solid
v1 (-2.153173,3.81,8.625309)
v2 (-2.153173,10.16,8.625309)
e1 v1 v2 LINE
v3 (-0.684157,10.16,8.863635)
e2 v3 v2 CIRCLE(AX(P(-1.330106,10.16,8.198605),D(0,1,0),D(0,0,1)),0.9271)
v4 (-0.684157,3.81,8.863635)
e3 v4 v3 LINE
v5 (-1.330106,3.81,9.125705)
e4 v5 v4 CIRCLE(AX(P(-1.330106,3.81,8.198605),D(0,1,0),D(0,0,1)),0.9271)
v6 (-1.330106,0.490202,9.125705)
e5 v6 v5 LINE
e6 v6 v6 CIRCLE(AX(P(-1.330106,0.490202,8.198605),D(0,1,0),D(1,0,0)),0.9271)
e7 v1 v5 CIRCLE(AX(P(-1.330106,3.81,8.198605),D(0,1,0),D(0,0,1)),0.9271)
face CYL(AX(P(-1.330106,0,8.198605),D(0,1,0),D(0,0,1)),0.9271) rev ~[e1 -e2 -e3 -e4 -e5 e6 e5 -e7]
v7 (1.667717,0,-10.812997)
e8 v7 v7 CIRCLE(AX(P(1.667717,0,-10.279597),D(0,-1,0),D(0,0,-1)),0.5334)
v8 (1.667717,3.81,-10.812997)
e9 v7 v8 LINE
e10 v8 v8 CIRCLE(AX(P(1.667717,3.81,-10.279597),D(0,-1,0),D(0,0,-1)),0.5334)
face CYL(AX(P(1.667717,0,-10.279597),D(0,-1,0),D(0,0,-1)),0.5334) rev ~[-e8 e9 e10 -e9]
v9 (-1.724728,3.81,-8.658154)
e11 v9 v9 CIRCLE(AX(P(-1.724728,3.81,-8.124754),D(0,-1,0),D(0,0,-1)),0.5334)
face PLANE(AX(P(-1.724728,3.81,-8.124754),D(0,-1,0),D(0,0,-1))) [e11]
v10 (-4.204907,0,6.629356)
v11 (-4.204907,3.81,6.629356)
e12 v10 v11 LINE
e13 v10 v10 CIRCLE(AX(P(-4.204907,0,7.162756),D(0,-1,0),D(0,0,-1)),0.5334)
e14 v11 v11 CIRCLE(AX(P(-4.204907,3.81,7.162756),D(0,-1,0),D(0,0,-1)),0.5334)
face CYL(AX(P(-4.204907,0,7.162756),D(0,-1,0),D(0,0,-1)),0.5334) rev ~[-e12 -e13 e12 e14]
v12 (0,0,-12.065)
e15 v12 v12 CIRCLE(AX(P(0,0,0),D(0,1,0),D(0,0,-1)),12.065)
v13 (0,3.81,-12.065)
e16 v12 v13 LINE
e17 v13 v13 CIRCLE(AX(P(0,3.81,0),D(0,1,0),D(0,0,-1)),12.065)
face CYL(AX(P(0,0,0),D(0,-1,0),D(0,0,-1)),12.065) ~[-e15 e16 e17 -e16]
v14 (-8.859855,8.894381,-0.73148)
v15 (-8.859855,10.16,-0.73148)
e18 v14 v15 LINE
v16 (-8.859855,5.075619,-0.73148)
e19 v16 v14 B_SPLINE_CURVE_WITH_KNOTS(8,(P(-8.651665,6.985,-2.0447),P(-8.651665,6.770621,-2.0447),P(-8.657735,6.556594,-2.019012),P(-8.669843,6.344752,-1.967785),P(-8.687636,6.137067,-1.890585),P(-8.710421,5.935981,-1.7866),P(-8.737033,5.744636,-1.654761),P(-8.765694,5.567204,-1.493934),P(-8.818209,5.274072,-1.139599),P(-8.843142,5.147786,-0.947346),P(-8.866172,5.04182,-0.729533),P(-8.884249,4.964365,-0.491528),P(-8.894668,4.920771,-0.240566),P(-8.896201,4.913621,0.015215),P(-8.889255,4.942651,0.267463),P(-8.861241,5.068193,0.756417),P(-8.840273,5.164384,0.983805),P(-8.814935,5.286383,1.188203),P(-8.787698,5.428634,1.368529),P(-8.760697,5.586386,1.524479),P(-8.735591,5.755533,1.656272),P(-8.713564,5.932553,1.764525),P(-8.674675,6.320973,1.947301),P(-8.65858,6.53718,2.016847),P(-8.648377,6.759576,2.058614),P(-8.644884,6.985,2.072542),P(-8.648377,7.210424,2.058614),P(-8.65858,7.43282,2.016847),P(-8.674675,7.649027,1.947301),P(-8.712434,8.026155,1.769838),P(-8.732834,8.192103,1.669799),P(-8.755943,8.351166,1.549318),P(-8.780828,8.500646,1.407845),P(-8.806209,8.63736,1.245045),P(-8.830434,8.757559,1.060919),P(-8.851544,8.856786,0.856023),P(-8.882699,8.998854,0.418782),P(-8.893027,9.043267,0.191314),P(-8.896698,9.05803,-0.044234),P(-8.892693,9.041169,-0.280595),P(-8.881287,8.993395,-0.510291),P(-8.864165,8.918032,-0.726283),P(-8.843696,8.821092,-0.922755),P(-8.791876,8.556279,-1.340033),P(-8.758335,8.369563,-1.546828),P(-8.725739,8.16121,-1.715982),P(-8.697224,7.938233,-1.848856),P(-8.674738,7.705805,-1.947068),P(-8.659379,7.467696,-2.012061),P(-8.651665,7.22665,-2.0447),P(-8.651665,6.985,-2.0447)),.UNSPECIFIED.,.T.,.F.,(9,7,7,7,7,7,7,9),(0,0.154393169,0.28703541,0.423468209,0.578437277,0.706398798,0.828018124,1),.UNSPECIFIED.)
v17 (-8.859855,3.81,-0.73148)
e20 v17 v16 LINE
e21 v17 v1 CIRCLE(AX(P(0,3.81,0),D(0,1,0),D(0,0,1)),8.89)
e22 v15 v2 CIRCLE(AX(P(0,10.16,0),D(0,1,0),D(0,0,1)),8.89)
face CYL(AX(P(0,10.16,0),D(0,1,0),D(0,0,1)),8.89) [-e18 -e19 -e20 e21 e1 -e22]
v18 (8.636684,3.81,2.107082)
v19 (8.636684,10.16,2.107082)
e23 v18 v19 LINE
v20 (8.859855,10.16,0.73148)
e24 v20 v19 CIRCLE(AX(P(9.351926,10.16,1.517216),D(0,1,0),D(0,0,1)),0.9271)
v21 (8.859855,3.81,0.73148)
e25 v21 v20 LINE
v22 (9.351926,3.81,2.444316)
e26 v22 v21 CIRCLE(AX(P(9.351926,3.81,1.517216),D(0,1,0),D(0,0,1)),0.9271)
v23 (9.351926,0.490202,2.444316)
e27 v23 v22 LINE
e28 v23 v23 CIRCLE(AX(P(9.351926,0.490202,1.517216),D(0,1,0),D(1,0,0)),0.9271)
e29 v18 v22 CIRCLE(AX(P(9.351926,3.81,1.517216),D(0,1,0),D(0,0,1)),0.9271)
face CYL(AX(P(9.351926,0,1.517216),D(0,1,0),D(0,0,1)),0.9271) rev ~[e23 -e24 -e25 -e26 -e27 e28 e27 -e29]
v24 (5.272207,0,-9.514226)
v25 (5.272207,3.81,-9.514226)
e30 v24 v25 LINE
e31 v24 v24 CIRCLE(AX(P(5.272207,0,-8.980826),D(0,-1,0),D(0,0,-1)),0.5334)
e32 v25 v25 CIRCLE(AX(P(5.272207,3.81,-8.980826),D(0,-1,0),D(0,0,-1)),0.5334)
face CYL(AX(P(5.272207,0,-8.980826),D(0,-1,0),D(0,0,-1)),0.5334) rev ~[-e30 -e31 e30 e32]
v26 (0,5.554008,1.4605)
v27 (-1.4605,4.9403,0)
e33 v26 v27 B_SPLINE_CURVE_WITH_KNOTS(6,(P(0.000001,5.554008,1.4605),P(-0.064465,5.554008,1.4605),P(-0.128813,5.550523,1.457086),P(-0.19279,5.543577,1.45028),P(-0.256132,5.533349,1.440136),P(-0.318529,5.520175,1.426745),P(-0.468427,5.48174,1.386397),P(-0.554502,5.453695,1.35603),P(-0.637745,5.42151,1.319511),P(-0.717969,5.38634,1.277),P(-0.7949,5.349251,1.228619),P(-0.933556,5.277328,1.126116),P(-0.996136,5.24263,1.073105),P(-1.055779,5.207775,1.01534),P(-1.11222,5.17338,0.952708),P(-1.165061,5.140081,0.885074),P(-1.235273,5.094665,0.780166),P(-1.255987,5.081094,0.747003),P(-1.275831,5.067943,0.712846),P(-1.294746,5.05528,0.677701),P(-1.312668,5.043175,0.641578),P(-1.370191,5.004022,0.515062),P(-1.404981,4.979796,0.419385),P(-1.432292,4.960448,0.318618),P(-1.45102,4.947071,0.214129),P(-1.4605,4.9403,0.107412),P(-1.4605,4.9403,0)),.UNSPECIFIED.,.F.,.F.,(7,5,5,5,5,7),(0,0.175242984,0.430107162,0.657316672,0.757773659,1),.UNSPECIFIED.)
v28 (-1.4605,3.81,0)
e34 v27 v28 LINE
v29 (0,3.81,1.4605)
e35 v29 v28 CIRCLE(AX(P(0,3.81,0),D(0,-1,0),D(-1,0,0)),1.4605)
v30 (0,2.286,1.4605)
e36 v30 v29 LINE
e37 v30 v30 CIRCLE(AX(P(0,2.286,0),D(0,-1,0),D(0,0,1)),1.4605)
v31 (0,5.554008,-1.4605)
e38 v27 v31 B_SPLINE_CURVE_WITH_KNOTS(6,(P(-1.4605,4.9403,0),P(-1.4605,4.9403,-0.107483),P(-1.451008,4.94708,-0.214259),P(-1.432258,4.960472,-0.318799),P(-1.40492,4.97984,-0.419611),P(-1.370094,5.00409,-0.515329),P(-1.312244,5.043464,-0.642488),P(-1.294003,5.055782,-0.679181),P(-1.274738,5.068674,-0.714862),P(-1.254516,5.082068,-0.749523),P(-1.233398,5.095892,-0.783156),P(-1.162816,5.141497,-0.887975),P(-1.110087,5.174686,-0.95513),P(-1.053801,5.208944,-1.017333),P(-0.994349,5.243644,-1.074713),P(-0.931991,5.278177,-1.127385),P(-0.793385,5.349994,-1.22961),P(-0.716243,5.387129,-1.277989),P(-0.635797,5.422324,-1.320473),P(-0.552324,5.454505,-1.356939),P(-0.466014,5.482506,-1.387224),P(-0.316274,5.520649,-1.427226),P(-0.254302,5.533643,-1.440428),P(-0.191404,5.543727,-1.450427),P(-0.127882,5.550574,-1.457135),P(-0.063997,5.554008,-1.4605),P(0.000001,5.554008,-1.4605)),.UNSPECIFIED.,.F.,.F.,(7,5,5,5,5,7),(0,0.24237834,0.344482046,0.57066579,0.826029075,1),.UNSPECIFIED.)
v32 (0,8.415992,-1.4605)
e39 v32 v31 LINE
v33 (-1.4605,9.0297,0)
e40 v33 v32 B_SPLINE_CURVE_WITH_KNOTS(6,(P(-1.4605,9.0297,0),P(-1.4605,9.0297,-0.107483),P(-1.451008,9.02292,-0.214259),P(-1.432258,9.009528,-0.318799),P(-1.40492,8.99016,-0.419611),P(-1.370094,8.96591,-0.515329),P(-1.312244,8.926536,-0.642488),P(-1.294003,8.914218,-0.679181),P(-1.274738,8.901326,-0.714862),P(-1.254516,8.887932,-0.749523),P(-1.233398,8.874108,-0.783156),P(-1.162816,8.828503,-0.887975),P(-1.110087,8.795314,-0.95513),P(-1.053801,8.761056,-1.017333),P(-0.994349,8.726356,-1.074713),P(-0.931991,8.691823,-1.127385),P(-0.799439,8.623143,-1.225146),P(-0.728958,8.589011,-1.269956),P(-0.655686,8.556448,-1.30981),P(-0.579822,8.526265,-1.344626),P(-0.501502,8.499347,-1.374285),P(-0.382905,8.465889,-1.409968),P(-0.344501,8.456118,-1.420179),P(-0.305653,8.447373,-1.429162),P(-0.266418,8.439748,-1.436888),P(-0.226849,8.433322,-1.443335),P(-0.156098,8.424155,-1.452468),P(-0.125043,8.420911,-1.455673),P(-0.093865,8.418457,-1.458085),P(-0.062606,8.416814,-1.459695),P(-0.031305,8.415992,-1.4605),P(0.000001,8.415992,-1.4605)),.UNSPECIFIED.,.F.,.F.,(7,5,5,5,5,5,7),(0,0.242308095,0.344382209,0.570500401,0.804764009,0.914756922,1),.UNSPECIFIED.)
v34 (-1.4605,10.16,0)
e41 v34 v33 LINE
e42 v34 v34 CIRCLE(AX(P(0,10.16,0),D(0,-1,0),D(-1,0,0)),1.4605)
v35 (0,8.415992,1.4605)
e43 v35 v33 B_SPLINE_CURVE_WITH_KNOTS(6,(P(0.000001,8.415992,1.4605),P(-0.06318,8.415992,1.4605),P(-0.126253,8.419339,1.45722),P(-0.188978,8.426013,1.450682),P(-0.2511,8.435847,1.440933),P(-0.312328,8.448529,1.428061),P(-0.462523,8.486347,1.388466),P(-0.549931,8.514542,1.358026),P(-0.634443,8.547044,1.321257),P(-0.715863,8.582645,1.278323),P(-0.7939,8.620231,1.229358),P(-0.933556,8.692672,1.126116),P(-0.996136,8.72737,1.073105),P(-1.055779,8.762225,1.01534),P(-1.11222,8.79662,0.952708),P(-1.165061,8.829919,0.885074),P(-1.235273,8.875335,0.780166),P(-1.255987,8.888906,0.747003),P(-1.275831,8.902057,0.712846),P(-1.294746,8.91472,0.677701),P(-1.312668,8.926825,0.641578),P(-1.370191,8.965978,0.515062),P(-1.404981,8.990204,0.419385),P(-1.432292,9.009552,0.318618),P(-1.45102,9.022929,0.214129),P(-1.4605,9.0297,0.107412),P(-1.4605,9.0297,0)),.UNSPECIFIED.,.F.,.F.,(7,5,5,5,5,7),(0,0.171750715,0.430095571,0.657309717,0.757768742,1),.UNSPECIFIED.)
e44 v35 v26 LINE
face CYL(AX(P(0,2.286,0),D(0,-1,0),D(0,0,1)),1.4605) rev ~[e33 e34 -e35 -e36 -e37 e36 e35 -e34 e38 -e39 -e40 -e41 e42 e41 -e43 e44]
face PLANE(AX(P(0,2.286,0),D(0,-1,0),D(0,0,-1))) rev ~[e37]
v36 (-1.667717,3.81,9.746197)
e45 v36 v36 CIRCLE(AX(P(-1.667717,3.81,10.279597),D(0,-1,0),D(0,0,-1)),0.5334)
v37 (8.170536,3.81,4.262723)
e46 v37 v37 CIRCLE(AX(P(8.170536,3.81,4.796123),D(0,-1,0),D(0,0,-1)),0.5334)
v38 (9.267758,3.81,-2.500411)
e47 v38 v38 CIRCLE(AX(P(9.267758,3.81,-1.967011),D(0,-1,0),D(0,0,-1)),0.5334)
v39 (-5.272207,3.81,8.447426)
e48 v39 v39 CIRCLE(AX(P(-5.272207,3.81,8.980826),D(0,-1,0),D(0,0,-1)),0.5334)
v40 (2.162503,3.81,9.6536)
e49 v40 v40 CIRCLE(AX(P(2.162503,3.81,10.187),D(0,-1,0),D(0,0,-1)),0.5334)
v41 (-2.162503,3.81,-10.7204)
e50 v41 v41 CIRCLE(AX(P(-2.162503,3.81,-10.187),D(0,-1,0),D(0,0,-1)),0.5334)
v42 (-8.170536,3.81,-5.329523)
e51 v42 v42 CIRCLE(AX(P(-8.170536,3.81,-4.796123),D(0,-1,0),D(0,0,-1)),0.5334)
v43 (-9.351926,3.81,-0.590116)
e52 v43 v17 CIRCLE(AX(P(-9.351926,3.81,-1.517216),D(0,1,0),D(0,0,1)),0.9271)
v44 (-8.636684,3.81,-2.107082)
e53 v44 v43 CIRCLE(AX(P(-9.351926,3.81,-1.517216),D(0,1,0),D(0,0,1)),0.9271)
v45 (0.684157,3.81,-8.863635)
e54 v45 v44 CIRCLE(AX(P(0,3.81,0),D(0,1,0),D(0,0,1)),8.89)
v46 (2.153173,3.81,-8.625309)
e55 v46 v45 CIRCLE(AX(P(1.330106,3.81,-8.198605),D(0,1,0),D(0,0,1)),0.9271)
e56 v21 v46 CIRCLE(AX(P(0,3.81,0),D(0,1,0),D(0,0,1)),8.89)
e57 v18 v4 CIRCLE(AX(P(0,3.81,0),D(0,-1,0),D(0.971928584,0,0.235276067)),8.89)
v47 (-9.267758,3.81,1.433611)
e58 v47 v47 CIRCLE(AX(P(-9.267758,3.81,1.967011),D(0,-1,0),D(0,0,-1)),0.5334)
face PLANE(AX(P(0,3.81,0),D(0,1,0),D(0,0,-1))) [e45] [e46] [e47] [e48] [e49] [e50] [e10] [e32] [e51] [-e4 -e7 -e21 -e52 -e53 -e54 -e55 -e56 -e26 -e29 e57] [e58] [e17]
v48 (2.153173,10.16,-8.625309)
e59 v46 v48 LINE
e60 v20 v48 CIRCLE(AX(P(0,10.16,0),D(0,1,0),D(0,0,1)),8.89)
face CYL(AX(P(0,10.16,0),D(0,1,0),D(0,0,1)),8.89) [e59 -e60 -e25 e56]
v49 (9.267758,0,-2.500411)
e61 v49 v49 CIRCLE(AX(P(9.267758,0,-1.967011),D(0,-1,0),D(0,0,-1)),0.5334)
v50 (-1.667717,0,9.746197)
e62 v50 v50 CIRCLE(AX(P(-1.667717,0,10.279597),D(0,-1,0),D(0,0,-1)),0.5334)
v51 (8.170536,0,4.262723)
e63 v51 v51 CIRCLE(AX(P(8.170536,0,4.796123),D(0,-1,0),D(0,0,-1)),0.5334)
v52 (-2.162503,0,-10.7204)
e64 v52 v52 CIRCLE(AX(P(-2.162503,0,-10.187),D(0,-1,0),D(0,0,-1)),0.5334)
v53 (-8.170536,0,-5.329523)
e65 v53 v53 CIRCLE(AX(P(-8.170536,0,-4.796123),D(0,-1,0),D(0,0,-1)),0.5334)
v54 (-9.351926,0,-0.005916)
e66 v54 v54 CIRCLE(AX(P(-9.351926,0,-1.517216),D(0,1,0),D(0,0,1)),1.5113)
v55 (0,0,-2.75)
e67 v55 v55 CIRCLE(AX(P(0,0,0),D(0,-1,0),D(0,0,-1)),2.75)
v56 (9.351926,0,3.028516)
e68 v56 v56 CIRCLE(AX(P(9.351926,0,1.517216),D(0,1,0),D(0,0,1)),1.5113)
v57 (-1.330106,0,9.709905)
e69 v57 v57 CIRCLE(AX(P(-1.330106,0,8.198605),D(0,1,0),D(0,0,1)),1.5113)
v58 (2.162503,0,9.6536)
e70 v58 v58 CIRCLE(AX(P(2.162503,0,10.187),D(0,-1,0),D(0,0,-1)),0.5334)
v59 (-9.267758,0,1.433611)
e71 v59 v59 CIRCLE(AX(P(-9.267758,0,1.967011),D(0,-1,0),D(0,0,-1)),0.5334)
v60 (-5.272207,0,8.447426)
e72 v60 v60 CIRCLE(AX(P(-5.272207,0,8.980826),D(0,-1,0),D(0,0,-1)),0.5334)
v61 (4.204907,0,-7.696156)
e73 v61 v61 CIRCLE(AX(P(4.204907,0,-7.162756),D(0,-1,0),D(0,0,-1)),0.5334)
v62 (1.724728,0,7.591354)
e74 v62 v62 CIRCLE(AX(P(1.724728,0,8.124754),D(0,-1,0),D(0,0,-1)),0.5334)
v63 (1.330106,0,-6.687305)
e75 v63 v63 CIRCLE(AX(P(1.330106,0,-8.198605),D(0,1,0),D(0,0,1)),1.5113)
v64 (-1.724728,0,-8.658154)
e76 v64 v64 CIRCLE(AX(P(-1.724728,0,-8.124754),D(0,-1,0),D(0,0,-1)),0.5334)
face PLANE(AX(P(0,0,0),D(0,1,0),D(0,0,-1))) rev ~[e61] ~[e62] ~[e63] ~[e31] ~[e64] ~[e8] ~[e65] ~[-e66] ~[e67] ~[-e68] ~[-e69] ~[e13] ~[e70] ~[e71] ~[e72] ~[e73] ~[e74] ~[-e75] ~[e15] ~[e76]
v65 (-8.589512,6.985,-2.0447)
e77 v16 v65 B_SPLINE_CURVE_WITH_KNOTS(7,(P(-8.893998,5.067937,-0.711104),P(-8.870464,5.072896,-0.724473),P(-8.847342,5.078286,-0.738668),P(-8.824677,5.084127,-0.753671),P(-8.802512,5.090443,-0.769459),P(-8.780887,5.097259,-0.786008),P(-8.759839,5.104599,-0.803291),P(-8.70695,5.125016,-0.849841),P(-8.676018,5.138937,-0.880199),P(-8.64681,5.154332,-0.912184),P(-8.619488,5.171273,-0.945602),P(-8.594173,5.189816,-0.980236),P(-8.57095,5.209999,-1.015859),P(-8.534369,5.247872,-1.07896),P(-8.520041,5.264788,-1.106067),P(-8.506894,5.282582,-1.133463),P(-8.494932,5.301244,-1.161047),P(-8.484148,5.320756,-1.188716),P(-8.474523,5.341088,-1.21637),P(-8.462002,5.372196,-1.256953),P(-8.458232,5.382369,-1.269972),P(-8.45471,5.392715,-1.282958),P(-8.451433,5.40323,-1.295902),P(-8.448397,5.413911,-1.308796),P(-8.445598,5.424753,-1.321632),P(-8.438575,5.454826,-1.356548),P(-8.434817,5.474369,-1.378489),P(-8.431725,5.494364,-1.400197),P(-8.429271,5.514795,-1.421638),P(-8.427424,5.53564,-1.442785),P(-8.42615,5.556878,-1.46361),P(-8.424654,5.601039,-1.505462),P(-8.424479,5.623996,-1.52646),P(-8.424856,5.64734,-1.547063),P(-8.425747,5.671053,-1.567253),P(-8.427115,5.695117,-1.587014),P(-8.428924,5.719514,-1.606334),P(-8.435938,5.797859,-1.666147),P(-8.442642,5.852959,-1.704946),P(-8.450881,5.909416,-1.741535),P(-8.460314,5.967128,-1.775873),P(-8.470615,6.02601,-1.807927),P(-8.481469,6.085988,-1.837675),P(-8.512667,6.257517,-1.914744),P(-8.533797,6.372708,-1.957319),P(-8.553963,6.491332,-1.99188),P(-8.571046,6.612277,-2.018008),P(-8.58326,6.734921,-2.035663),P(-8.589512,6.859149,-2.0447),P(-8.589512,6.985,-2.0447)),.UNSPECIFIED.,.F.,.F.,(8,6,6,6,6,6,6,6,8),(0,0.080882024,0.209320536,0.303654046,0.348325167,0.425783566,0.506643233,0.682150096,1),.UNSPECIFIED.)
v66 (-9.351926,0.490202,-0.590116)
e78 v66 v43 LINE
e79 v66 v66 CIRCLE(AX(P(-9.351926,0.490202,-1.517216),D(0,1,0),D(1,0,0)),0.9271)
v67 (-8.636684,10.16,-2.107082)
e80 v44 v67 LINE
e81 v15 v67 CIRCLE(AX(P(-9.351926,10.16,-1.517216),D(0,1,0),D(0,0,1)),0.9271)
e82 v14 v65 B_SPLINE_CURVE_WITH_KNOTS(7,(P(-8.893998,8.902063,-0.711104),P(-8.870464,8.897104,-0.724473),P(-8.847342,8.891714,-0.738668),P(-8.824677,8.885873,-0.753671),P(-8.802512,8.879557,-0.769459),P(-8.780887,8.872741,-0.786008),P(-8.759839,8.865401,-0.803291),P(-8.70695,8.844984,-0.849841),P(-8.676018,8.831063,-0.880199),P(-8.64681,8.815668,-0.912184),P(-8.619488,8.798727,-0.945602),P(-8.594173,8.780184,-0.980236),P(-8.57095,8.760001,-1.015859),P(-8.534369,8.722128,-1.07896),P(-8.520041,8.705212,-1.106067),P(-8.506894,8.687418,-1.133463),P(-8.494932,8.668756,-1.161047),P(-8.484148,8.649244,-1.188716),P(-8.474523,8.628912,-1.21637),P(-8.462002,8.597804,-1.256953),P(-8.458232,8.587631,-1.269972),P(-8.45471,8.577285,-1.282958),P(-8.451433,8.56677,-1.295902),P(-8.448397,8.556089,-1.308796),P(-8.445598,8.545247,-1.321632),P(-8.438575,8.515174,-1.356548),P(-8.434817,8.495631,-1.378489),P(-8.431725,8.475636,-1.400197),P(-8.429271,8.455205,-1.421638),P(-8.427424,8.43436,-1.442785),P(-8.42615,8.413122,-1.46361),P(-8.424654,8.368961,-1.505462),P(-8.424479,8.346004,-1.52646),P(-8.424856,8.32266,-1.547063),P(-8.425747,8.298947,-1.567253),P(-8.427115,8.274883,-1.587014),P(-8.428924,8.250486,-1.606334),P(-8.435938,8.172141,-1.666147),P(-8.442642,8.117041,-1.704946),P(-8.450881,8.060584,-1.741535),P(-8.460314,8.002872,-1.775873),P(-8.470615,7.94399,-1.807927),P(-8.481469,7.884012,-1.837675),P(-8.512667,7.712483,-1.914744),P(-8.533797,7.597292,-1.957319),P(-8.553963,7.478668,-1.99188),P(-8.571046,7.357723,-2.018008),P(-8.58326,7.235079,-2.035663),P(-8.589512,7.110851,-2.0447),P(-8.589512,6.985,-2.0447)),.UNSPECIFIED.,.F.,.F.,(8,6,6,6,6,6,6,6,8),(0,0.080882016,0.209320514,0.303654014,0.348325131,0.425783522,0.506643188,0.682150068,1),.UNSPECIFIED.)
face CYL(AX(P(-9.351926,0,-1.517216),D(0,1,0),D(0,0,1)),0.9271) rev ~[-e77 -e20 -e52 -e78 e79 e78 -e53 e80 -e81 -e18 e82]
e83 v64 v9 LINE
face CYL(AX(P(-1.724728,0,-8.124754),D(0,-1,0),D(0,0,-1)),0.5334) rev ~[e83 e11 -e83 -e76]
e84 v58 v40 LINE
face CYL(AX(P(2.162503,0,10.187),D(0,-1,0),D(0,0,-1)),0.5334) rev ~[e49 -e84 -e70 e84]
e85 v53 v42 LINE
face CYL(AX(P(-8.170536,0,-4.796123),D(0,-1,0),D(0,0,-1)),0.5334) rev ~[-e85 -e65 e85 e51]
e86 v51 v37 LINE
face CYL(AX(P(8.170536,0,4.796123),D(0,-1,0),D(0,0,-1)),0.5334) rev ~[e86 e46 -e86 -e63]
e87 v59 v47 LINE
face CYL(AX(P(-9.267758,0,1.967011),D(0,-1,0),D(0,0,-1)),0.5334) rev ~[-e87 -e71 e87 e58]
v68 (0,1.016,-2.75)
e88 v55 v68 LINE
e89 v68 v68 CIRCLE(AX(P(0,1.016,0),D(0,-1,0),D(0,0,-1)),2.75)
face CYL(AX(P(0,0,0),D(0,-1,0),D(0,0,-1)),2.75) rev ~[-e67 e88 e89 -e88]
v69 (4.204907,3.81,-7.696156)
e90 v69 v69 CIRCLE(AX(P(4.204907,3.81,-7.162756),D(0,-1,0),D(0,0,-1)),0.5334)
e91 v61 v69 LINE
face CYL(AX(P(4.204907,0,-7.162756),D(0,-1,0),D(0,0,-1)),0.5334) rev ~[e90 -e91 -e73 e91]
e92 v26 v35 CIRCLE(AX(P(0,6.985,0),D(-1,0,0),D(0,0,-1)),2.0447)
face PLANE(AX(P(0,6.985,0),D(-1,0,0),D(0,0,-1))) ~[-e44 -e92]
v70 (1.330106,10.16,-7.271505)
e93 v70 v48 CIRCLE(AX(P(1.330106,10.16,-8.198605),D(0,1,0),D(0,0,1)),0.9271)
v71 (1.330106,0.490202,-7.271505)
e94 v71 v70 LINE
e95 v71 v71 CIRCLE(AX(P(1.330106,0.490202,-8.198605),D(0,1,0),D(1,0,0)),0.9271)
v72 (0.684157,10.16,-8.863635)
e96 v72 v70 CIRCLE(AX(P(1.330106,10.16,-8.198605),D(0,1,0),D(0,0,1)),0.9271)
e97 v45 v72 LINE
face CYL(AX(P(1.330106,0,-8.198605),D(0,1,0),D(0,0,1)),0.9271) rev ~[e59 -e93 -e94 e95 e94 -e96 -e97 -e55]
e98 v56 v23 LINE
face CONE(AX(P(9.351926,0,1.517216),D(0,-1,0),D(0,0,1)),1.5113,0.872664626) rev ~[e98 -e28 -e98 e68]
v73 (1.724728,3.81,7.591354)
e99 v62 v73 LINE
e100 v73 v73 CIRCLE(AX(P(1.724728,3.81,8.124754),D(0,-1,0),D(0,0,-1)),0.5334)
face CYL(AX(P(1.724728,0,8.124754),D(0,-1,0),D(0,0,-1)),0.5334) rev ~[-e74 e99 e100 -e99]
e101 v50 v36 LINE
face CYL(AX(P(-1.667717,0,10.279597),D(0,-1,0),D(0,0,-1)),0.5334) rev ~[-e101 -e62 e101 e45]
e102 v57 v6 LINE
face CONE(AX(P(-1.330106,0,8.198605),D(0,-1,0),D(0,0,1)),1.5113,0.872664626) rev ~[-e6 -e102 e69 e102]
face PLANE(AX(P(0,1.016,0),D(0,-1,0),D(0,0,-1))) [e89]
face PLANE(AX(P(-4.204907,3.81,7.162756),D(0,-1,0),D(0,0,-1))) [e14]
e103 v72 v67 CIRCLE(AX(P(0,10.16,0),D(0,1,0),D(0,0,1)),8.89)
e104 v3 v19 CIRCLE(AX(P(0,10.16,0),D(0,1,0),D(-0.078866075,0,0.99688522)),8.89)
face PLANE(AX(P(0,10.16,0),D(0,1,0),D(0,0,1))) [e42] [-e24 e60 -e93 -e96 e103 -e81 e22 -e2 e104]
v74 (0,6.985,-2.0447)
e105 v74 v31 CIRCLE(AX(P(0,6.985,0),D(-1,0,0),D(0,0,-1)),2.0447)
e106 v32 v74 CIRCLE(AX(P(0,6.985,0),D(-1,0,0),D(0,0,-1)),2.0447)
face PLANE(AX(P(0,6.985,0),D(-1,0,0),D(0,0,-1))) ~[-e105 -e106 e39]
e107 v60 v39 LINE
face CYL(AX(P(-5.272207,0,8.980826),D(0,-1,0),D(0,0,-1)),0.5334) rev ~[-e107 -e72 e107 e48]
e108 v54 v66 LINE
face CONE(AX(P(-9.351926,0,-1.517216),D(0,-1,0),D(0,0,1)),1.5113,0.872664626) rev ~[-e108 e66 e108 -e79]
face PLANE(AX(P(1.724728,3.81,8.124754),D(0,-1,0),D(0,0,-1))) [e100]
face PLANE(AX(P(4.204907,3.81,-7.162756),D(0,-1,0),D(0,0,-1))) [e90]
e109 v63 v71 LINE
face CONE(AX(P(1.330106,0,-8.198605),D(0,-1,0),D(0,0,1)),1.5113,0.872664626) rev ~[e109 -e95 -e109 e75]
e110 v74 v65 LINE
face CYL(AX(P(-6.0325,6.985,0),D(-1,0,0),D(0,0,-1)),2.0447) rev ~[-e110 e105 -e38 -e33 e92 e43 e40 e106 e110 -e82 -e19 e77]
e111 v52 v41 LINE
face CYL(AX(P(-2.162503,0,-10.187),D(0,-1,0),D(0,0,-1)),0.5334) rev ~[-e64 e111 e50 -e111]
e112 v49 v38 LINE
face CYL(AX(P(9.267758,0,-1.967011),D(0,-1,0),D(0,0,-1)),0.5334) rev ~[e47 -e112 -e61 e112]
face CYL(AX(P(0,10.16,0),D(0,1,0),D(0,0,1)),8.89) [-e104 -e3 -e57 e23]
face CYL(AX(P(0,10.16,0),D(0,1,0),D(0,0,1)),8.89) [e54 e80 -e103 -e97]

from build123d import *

# Parameters (mm, degrees)
SKETCH1_R                                         = 12.065
BOSS_EXTRUDE1_DEPTH                               = 3.81
SKETCH2_R                                         = 2.54
CUT_EXTRUDE1_DEPTH                                = 10.16
SKETCH3_R                                         = 6.35
BOSS_EXTRUDE2_DEPTH                               = 1.27
SKETCH5_R                                         = 6.35
BOSS_EXTRUDE3_DEPTH                               = 5.08
F_4_CLEARANCE_HOLE1_D                             = 2.921
F_4_CLEARANCE_HOLE1_DEPTH                         = 7.504443066
F_4_CLEARANCE_HOLE1_TIP                           = 0.877556934
BOSS_EXTRUDE4_START                               = -6.35
SKETCH11_W                                        = 12.7
SKETCH11_H                                        = 12.7
SKETCH11_R                                        = 1.4605
BOSS_EXTRUDE4_DEPTH                               = 6.35
SKETCH18_OUTSIDE_W                                = 33.252
SKETCH18_OUTSIDE_H                                = 33.252
SKETCH18_OUTSIDE_R                                = 6.35
CUT_EXTRUDE5_DEPTH                                = 6.35
SKETCH28_R                                        = 8.89
SKETCH28_R_2                                      = 6.35
BOSS_EXTRUDE5_DEPTH                               = 6.35
SKETCH27_W                                        = 2.0447
SKETCH27_H                                        = 12.065
SKETCH29_R                                        = 0.5334
CUT_EXTRUDE6_DEPTH                                = 3.81
BOSS_EXTRUDE6_START                               = 1.524
SKETCH30_R                                        = 2.54
SKETCH30_R_2                                      = 1.4605
BOSS_EXTRUDE6_DEPTH                               = 1.524
BOSS_EXTRUDE7_START                               = 1.27
SKETCH31_R                                        = 2.54
BOSS_EXTRUDE7_DEPTH                               = 1.27
SKETCH32_R                                        = 0.9144
CUT_EXTRUDE7_DEPTH                                = 20.85834968
SKETCH33_R                                        = 2.75
SKETCH33_R_2                                      = 2.54
CUT_EXTRUDE8_DEPTH                                = 1.016
CSK_FOR_0_FLAT_HEAD_MACHINE_SCREW_100_D           = 1.8542
CSK_FOR_0_FLAT_HEAD_MACHINE_SCREW_100_CSINK_D     = 3.0226
CSK_FOR_0_FLAT_HEAD_MACHINE_SCREW_100_CSINK_ANGLE = 100


with BuildPart() as part:
    # Sketch1 → Boss-Extrude1 (new body)
    with BuildSketch(Plane(origin=(0, 0, 0), x_dir=(1, 0, 0), z_dir=(0, 1, 0))):
        with Locations(Location((0, 0, 0), (0, 0, 90))):
            Circle(SKETCH1_R)
    extrude(amount=BOSS_EXTRUDE1_DEPTH)

    # Sketch2 → Cut-Extrude1 (cut)
    with BuildSketch(Plane(origin=(0, 0, 0), x_dir=(1, 0, 0), z_dir=(0, 1, 0))):
        with Locations(Location((0, 0, 0), (0, 0, 270))):
            Circle(SKETCH2_R)
    extrude(amount=CUT_EXTRUDE1_DEPTH, mode=Mode.SUBTRACT)

    # Sketch3 → Boss-Extrude2 (add)
    with BuildSketch(Plane(origin=(0, 3.81, 0), x_dir=(1, 0, 0), z_dir=(0, 1, 0))):
        with Locations(Location((0, 0, 0), (0, 0, 270))):
            Circle(SKETCH3_R)
    extrude(amount=BOSS_EXTRUDE2_DEPTH)

    # Sketch5 → Boss-Extrude3 (add)
    with BuildSketch(Plane(origin=(0, 5.08, 0), x_dir=(1, 0, 0), z_dir=(0, 1, 0))):
        with Locations(Location((0, 0, 0), (0, 0, 270))):
            Circle(SKETCH5_R)
    extrude(amount=BOSS_EXTRUDE3_DEPTH)

    # #4 Clearance Hole1
    with Locations(Plane(origin=(0, 10.16, 0), x_dir=(1, 0, 0), z_dir=(0, 1, 0))):
        with Locations((0, 0)):
            Hole(F_4_CLEARANCE_HOLE1_D / 2, depth=F_4_CLEARANCE_HOLE1_DEPTH)
            with Locations((0, 0, -(F_4_CLEARANCE_HOLE1_DEPTH + F_4_CLEARANCE_HOLE1_TIP / 2))):  # 118° drill point
                Cone(0, F_4_CLEARANCE_HOLE1_D / 2, F_4_CLEARANCE_HOLE1_TIP, mode=Mode.SUBTRACT)

    # Sketch11 → Boss-Extrude4 (add)
    with BuildSketch(Plane(origin=(0, 10.16, 0), x_dir=(1, 0, 0), z_dir=(0, 1, 0)).offset(BOSS_EXTRUDE4_START)):
        Rectangle(SKETCH11_W, SKETCH11_H)
        with Locations(Location((0, 0, 0), (0, 0, 270))):
            Circle(SKETCH11_R, mode=Mode.SUBTRACT)
    extrude(amount=BOSS_EXTRUDE4_DEPTH)

    # Sketch18 outside → Cut-Extrude5 (cut)
    with BuildSketch(Plane(origin=(0, 10.16, 0), x_dir=(1, 0, 0), z_dir=(0, 1, 0))):
        Rectangle(SKETCH18_OUTSIDE_W, SKETCH18_OUTSIDE_H)
        with Locations(Location((0, 0, 0), (0, 0, 270))):
            Circle(SKETCH18_OUTSIDE_R, mode=Mode.SUBTRACT)
    extrude(amount=-CUT_EXTRUDE5_DEPTH, mode=Mode.SUBTRACT)

    # Sketch28 → Boss-Extrude5 (add)
    with BuildSketch(Plane(origin=(0, 10.16, 0), x_dir=(1, 0, 0), z_dir=(0, 1, 0))):
        with Locations(Location((0, 0, 0), (0, 0, 270))):
            Circle(SKETCH28_R)
        Circle(SKETCH28_R_2, mode=Mode.SUBTRACT)
    extrude(amount=-BOSS_EXTRUDE5_DEPTH)

    # Sketch27 → #20 (0.161) Diameter Hole3 (revolve, cut)
    with BuildSketch(Plane(origin=(0, 6.985, 0), x_dir=(0, 0, -1), z_dir=(0, 1, 0))):
        with Locations((1.02235, 6.0325)):
            Rectangle(SKETCH27_W, SKETCH27_H)
    revolve(axis=Axis((6.35, 6.985, 0), (-1, 0, 0)), mode=Mode.SUBTRACT)

    # Sketch29 → Cut-Extrude6 (cut)
    with BuildSketch(Plane.XZ):
        with Locations(Location((9.267757815, -1.967010608, 0), (0, 0, 270))):
            Circle(SKETCH29_R)
        with Locations(Location((9.351926113, 1.517215745, 0), (0, 0, 270))):
            Circle(SKETCH29_R)
        with Locations(Location((8.170536407, 4.796123482, 0), (0, 0, 270))):
            Circle(SKETCH29_R)
        with Locations(Location((1.724727668, 8.124754034, 0), (0, 0, 270))):
            Circle(SKETCH29_R)
        with Locations(Location((2.162502581, 10.187000471, 0), (0, 0, 270))):
            Circle(SKETCH29_R)
        with Locations(Location((-1.667717039, 10.279597068, 0), (0, 0, 270))):
            Circle(SKETCH29_R)
        with Locations(Location((-1.330106029, 8.198605466, 0), (0, 0, 270))):
            Circle(SKETCH29_R)
        with Locations(Location((-5.27220716, 8.980825556, 0), (0, 0, 270))):
            Circle(SKETCH29_R)
        with Locations(Location((-4.204906686, 7.162755992, 0), (0, 0, 270))):
            Circle(SKETCH29_R)
        with Locations(Location((-8.170536407, -4.796123482, 0), (0, 0, 270))):
            Circle(SKETCH29_R)
        with Locations(Location((-9.351926113, -1.517215745, 0), (0, 0, 270))):
            Circle(SKETCH29_R)
        with Locations(Location((-9.267757815, 1.967010608, 0), (0, 0, 270))):
            Circle(SKETCH29_R)
        with Locations(Location((5.272207159, -8.980825556, 0), (0, 0, 270))):
            Circle(SKETCH29_R)
        with Locations(Location((4.204906686, -7.162755992, 0), (0, 0, 270))):
            Circle(SKETCH29_R)
        with Locations(Location((1.330106029, -8.198605466, 0), (0, 0, 270))):
            Circle(SKETCH29_R)
        with Locations(Location((1.667717039, -10.279597068, 0), (0, 0, 270))):
            Circle(SKETCH29_R)
        with Locations(Location((-2.162502581, -10.187000471, 0), (0, 0, 270))):
            Circle(SKETCH29_R)
        with Locations(Location((-1.724727668, -8.124754034, 0), (0, 0, 270))):
            Circle(SKETCH29_R)
    extrude(amount=-CUT_EXTRUDE6_DEPTH, mode=Mode.SUBTRACT)

    # Sketch30 → Boss-Extrude6 (add)
    with BuildSketch(Plane.XZ.offset(-3.81).offset(BOSS_EXTRUDE6_START)):
        with Locations(Location((0, 0, 0), (0, 0, 270))):
            Circle(SKETCH30_R)
        with Locations(Location((0, 0, 0), (0, 0, 90))):
            Circle(SKETCH30_R_2, mode=Mode.SUBTRACT)
    extrude(amount=-BOSS_EXTRUDE6_DEPTH)

    # Sketch31 → Boss-Extrude7 (add)
    with BuildSketch(Plane.XZ.offset(-2.286).offset(BOSS_EXTRUDE7_START)):
        with Locations(Location((0, 0, 0), (0, 0, 270))):
            Circle(SKETCH31_R)
    extrude(amount=-BOSS_EXTRUDE7_DEPTH)

    # Sketch32 → Cut-Extrude7 (cut, through all)
    with BuildSketch(Plane.XZ):
        with Locations(Location((-1.330106029, 8.198605466, 0), (0, 0, 270))):
            Circle(SKETCH32_R)
        with Locations(Location((9.351926113, 1.517215745, 0), (0, 0, 270))):
            Circle(SKETCH32_R)
        with Locations(Location((-9.351926113, -1.517215745, 0), (0, 0, 270))):
            Circle(SKETCH32_R)
        with Locations(Location((1.330106029, -8.198605466, 0), (0, 0, 270))):
            Circle(SKETCH32_R)
    extrude(amount=-CUT_EXTRUDE7_DEPTH, mode=Mode.SUBTRACT)

    # Sketch33 → Cut-Extrude8 (cut)
    with BuildSketch(Plane.XZ):
        with Locations(Location((0, 0, 0), (0, 0, 270))):
            Circle(SKETCH33_R)
        Circle(SKETCH33_R_2, mode=Mode.SUBTRACT)
    extrude(amount=-CUT_EXTRUDE8_DEPTH, mode=Mode.SUBTRACT)

    # CSK for #0 Flat Head Machine Screw (100)1 (through all)
    with Locations(Plane(origin=(1.330106029, 0, -8.198605466), x_dir=(0, 0, -1), z_dir=(0, -1, 0))):
        with Locations((0, 0), (-9.715821211, 8.021820084), (-16.397210932, -2.660212058), (-6.681389721, -10.682032142)):
            CounterSinkHole(CSK_FOR_0_FLAT_HEAD_MACHINE_SCREW_100_D / 2, CSK_FOR_0_FLAT_HEAD_MACHINE_SCREW_100_CSINK_D / 2, counter_sink_angle=CSK_FOR_0_FLAT_HEAD_MACHINE_SCREW_100_CSINK_ANGLE)


solid = part.part
